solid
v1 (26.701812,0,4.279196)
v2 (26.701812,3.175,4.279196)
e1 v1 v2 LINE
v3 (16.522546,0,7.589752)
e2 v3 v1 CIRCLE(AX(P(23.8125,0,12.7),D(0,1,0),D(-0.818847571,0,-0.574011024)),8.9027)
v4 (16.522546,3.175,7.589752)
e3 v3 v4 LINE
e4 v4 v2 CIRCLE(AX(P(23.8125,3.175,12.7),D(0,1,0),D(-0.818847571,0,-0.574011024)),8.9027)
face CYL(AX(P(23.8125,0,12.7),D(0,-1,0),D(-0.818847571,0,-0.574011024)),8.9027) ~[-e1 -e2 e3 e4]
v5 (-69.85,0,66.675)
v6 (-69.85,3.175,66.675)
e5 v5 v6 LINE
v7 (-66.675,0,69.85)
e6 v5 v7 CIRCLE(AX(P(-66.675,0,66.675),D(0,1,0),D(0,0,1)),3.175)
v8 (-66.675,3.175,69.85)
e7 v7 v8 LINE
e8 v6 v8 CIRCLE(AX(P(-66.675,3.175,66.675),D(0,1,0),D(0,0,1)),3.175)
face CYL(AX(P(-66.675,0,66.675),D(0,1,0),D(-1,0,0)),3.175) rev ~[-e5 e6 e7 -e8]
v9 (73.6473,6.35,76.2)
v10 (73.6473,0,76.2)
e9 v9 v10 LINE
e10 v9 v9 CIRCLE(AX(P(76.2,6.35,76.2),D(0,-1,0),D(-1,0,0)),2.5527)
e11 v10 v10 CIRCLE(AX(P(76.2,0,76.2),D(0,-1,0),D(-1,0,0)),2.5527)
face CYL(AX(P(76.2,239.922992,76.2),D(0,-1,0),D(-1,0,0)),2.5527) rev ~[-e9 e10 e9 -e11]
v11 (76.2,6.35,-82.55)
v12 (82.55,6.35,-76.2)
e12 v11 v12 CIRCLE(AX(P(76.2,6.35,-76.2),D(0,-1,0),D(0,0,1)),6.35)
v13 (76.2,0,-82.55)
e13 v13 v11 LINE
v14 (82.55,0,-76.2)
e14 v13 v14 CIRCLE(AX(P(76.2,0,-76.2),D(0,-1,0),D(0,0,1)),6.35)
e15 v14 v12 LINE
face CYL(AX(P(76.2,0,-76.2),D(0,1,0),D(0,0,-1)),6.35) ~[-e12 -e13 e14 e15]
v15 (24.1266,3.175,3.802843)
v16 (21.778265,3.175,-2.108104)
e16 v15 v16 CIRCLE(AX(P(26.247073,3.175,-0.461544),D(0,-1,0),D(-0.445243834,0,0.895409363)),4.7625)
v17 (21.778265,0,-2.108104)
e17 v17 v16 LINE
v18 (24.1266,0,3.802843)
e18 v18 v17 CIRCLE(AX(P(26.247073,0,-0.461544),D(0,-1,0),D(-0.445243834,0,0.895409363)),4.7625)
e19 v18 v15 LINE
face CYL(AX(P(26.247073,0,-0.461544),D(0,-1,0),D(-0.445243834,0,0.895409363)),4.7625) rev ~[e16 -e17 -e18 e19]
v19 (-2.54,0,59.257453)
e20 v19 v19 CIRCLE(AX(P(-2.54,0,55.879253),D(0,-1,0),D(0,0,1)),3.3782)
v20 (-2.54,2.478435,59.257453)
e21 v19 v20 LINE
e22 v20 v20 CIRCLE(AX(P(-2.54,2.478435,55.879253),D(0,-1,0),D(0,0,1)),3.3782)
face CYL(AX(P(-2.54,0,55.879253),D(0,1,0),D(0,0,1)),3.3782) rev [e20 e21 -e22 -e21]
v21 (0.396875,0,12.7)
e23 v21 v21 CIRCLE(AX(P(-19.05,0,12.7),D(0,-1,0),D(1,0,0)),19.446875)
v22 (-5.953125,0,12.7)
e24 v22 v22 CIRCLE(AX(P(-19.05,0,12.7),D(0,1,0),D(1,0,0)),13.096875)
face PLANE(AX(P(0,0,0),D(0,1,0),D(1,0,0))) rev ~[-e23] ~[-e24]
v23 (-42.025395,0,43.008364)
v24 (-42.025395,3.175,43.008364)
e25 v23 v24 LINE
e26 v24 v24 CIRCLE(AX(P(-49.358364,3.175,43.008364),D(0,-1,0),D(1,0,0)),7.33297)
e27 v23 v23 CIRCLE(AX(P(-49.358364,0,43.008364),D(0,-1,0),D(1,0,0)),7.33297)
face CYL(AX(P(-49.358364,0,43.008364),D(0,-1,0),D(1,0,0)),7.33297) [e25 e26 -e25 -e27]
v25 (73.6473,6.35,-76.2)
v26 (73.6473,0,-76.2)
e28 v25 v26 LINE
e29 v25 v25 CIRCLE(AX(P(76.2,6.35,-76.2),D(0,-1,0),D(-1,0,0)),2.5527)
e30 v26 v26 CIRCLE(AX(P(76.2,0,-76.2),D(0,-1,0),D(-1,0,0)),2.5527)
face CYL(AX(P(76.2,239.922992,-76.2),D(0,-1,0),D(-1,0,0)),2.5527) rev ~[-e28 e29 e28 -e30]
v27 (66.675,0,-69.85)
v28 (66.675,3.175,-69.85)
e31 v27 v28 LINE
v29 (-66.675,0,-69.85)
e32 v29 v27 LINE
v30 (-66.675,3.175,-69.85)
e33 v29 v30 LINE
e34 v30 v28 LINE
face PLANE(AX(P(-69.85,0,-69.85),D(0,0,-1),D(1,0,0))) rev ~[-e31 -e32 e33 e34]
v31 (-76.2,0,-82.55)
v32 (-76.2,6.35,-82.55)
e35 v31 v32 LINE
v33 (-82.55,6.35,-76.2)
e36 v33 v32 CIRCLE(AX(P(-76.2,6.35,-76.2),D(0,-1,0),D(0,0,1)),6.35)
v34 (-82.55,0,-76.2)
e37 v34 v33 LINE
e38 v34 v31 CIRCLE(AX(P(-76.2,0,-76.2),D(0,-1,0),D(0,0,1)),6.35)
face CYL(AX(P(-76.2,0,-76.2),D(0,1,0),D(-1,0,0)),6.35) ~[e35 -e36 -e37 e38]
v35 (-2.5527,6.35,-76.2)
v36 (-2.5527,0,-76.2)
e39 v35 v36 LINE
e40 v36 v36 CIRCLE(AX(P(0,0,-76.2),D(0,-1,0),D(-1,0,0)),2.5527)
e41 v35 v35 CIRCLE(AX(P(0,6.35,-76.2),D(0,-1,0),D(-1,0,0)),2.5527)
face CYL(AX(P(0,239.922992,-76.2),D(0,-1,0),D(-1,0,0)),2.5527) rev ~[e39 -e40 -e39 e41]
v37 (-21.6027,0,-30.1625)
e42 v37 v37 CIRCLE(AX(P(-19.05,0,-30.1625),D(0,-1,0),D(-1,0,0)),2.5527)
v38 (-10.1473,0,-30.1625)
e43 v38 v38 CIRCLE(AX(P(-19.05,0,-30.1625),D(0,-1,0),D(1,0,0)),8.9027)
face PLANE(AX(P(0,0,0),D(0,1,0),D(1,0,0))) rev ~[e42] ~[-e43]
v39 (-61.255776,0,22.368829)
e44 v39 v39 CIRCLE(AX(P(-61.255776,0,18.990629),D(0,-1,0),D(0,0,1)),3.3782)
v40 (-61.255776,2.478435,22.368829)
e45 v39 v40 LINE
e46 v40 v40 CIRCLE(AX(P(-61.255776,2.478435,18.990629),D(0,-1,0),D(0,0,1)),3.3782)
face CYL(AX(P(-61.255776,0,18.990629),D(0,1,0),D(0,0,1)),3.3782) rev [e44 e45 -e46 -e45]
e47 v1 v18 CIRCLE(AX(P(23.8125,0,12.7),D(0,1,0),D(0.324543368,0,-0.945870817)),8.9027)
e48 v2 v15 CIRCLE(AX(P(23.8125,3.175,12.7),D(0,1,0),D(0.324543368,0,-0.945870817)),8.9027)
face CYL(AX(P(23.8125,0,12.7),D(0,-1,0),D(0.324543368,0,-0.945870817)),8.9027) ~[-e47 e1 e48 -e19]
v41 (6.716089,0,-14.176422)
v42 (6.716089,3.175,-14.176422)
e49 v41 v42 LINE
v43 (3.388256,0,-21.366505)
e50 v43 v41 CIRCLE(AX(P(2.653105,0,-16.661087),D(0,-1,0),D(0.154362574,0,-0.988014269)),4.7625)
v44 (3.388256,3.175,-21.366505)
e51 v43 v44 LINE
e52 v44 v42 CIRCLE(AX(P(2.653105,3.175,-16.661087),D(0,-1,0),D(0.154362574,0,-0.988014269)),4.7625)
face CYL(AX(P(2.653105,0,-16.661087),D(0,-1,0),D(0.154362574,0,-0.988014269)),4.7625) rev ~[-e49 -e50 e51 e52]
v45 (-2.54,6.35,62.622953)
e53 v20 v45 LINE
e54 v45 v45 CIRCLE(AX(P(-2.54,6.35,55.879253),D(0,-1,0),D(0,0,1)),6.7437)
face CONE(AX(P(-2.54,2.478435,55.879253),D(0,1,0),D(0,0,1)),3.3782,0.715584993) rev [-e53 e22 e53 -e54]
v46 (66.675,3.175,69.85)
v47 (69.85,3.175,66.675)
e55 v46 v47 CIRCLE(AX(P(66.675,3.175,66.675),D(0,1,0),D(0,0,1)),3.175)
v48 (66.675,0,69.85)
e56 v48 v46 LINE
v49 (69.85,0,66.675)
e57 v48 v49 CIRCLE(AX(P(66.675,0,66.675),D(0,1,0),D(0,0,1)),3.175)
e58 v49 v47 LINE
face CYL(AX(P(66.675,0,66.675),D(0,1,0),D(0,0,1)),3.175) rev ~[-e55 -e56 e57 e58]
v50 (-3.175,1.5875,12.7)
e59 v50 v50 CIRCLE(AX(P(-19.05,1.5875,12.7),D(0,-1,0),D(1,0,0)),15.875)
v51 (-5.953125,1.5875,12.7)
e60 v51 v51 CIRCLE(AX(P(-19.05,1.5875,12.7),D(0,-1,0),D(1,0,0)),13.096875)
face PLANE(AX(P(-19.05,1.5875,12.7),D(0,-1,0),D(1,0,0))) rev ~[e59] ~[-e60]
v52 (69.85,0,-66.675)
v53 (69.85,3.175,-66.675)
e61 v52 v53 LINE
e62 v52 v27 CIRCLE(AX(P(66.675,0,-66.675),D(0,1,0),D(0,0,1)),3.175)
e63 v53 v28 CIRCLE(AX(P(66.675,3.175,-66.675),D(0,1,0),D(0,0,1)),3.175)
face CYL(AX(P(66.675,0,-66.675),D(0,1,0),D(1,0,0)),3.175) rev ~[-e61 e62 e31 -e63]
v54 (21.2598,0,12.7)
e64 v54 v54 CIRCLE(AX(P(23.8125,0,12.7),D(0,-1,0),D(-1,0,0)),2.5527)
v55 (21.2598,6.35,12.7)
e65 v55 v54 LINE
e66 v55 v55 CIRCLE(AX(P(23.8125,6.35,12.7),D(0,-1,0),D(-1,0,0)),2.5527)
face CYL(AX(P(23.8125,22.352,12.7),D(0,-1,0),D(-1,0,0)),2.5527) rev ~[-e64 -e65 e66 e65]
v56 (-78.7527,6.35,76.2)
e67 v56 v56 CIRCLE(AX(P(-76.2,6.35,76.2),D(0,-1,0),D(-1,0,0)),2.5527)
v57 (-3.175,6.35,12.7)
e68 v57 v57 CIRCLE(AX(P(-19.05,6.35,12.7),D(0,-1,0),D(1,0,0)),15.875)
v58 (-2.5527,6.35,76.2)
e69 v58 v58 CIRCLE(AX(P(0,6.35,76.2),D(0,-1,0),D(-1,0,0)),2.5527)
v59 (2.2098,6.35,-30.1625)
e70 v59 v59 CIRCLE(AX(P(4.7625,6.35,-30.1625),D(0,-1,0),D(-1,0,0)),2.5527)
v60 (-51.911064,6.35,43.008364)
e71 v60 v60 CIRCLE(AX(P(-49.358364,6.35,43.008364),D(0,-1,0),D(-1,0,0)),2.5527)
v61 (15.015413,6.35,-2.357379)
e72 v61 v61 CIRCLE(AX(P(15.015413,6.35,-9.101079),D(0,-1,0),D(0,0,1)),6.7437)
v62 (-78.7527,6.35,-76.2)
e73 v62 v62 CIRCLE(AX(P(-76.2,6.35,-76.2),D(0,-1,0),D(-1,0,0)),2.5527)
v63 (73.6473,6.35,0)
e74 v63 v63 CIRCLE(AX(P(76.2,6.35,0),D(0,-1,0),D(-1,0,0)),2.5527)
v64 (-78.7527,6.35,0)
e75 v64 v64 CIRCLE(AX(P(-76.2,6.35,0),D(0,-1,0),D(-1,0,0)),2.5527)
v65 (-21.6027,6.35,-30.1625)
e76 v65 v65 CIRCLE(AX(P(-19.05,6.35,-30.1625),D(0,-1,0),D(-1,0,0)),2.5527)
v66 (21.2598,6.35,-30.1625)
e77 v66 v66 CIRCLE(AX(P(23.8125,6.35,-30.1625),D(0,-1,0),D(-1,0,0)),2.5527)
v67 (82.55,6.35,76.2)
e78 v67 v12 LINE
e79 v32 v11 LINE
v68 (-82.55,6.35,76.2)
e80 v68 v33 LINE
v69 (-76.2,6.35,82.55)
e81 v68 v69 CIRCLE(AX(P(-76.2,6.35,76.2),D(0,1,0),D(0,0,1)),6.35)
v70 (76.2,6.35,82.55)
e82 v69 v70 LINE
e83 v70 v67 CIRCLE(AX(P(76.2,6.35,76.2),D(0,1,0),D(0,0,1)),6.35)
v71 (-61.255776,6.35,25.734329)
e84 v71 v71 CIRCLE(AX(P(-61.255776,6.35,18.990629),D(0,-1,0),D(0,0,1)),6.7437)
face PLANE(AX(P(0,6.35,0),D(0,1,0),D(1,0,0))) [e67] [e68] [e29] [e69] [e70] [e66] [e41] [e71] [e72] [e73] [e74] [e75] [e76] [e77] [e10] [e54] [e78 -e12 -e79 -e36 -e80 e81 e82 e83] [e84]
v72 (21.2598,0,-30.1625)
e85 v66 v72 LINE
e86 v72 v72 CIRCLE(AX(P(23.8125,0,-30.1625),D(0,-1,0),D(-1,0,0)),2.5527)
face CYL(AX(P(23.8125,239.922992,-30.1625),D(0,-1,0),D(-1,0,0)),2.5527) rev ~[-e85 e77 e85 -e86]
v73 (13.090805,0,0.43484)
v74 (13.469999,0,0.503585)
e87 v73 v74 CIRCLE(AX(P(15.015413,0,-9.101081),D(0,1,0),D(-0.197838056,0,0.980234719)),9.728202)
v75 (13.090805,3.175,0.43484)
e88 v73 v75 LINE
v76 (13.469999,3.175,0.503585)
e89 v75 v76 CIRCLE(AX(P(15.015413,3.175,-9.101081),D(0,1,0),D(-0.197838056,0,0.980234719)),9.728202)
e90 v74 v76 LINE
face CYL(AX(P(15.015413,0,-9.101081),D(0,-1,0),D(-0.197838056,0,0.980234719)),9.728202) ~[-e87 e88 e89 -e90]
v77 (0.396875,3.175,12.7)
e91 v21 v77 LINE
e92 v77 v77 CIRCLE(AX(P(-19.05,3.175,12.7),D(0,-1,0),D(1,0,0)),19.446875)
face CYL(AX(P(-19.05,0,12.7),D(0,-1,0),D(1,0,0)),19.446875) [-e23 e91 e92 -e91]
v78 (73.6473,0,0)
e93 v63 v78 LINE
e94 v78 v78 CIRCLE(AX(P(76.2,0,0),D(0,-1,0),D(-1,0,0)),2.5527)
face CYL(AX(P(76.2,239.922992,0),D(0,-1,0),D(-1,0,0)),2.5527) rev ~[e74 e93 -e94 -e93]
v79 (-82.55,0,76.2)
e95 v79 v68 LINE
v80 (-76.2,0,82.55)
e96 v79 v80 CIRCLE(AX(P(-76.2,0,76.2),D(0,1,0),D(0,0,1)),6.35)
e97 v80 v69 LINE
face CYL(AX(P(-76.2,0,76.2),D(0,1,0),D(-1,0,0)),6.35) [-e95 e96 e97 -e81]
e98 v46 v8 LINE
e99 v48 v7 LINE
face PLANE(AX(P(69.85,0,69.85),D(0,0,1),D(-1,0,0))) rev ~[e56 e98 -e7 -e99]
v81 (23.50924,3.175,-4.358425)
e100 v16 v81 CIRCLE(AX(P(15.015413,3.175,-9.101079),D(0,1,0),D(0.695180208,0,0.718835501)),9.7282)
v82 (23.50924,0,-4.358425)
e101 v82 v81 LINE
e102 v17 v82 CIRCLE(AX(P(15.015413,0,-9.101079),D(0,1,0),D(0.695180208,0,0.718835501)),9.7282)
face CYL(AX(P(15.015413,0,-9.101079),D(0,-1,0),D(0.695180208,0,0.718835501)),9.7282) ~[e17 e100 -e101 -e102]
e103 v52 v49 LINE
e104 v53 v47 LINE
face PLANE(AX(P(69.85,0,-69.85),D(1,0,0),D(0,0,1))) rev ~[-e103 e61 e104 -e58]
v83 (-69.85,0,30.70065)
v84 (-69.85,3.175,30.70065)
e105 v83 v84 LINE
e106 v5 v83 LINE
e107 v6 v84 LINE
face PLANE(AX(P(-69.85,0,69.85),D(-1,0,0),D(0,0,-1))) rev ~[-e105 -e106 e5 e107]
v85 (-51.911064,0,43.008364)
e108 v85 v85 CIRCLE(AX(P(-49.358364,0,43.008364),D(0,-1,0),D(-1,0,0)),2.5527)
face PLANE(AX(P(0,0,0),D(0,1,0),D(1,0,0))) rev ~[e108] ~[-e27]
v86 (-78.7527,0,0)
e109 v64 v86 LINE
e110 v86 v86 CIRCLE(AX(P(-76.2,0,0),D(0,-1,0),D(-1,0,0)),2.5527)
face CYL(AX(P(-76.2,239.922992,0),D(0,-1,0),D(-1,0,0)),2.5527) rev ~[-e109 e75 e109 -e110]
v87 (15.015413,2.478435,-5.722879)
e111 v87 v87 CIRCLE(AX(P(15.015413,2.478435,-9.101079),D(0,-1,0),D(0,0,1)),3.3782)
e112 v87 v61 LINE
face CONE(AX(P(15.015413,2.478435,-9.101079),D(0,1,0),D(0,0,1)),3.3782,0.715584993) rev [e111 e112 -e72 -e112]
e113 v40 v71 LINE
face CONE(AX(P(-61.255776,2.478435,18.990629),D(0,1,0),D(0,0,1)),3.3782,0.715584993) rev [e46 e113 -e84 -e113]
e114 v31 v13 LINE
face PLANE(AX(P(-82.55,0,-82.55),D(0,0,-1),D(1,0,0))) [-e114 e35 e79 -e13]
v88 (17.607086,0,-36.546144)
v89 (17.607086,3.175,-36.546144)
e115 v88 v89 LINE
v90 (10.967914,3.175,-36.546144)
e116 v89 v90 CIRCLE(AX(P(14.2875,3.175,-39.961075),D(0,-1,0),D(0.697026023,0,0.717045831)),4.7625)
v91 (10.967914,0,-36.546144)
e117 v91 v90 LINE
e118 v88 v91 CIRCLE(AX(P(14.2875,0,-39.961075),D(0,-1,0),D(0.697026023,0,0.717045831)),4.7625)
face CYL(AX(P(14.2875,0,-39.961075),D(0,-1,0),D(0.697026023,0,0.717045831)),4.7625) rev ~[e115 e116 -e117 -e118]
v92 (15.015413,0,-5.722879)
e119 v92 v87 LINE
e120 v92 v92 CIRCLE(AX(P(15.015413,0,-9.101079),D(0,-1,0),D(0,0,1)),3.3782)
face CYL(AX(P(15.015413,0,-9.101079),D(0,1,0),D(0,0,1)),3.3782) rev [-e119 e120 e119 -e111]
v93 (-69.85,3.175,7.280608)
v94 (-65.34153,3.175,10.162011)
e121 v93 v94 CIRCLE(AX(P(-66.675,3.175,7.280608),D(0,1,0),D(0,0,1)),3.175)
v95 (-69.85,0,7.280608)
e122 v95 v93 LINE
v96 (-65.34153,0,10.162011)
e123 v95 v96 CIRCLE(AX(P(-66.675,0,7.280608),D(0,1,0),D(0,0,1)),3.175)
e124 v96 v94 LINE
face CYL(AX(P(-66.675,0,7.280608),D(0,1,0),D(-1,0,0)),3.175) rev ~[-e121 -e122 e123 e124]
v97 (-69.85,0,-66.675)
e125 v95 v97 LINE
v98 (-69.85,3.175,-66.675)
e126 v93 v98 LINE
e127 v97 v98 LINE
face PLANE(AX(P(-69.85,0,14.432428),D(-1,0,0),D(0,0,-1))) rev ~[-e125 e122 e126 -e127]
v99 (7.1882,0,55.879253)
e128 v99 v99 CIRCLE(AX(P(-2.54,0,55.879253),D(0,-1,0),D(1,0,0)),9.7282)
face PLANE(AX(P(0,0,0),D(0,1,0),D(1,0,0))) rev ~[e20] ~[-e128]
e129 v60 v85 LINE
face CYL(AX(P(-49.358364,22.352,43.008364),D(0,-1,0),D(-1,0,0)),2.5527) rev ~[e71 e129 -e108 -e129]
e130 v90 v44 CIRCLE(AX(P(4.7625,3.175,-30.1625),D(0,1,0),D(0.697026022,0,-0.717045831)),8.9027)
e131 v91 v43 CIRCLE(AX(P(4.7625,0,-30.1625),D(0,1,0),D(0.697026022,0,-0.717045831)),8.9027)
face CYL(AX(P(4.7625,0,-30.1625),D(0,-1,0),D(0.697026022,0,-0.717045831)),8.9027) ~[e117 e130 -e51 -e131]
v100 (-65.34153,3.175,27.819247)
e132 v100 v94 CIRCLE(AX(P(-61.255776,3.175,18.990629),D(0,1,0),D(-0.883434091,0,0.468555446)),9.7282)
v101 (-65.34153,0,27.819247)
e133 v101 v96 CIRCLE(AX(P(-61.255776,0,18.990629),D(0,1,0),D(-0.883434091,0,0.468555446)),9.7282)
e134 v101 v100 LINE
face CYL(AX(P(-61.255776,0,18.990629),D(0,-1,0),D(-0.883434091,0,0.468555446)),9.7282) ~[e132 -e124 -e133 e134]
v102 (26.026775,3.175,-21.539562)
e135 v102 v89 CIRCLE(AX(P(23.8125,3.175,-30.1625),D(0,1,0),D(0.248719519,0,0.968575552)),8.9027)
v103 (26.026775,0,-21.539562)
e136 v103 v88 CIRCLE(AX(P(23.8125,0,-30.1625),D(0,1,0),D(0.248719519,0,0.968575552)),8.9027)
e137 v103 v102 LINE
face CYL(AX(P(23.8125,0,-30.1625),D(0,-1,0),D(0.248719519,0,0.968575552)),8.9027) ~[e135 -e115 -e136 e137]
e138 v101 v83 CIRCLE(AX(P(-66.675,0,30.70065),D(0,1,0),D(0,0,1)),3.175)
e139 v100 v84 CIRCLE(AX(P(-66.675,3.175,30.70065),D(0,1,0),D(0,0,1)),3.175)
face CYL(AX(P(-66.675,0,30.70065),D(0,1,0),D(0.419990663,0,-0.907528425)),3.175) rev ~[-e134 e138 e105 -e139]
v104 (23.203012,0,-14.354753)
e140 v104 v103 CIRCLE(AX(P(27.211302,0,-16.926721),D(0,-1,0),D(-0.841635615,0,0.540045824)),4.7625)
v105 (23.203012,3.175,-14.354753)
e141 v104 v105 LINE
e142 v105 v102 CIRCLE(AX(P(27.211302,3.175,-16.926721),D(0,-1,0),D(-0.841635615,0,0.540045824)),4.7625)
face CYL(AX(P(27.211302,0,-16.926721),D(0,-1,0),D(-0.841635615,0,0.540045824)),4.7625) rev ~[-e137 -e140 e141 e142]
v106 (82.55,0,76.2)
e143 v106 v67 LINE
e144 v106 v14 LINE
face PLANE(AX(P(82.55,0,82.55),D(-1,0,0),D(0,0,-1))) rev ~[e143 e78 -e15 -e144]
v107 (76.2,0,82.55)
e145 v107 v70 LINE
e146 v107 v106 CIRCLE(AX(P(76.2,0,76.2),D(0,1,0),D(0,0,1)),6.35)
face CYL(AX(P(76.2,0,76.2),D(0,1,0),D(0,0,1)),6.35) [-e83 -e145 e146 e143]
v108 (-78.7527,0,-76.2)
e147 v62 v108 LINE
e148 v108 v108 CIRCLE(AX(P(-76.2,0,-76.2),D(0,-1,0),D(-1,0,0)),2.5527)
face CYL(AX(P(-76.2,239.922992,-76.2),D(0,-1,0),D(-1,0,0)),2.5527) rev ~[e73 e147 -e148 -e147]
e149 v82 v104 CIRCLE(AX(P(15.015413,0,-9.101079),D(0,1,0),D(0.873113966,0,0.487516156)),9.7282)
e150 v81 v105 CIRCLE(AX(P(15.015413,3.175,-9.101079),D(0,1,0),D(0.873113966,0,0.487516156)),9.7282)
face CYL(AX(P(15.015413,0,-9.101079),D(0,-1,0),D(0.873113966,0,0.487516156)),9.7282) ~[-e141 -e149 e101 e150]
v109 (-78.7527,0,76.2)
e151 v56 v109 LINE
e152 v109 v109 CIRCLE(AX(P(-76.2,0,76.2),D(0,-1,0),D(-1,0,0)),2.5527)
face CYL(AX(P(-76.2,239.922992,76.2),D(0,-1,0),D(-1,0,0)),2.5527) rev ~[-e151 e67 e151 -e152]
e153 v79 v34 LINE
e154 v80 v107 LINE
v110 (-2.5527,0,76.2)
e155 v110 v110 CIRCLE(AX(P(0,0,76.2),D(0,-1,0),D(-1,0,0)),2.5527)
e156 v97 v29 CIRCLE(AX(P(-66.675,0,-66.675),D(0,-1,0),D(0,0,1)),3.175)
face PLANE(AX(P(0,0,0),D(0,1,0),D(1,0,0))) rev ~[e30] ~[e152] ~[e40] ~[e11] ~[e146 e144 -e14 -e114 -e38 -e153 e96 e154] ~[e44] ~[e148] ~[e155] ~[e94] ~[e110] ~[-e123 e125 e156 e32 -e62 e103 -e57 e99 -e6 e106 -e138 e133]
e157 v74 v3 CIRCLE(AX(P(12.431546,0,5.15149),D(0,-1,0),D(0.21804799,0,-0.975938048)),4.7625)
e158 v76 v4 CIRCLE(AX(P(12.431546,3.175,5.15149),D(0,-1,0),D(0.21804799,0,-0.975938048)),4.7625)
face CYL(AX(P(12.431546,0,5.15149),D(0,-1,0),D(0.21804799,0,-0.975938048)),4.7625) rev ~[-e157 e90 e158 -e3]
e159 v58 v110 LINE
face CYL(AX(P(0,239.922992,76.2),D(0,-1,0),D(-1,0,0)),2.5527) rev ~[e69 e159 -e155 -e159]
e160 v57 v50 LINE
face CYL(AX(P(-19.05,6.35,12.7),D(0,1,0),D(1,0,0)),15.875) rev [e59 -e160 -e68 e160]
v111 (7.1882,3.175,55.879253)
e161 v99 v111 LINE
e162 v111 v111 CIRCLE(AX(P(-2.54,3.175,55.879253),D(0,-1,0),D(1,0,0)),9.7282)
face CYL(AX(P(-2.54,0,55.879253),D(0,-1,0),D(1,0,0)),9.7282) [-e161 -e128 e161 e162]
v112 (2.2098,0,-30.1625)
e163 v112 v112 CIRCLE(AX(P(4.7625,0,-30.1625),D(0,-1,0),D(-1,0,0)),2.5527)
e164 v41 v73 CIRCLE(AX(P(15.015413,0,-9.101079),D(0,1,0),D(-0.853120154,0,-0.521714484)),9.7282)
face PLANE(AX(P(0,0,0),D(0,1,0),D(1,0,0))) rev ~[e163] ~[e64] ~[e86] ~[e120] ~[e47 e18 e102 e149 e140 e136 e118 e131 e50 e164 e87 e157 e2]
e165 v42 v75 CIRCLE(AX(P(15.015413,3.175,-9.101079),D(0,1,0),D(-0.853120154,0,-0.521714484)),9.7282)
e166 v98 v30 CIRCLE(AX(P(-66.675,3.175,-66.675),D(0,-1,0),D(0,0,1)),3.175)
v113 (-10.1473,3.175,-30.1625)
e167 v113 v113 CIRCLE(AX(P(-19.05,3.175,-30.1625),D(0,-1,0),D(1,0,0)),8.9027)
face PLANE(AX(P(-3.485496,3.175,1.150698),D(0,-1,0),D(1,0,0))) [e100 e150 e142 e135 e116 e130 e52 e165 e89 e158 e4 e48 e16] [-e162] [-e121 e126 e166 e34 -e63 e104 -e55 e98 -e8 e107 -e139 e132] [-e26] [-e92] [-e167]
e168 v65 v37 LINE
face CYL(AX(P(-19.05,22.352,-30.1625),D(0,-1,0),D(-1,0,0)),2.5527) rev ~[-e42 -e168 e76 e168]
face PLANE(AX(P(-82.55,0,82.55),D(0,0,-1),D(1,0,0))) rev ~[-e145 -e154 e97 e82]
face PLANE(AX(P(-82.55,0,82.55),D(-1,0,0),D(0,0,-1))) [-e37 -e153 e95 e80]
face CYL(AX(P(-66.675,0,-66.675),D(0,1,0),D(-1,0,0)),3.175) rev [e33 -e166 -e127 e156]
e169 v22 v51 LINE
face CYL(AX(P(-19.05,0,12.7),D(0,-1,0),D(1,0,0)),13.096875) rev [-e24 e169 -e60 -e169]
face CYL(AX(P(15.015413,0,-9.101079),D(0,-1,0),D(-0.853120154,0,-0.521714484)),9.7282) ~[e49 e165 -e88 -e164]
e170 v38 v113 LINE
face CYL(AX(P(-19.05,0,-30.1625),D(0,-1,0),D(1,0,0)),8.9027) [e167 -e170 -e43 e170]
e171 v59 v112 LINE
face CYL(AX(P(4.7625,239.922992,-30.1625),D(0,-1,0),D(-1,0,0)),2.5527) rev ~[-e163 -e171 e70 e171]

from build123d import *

# Parameters (mm, degrees)
SKETCH1_W                                    = 165.1
SKETCH1_H                                    = 165.1
SKETCH1_R                                    = 13.096875
SKETCH1_R_2                                  = 1.5875
BOSS_EXTRUDE1_DEPTH                          = 6.35
SKETCH3_R                                    = 15.875
CUT_EXTRUDE1_DEPTH                           = 4.7625
CSK_FOR_1_4_FLAT_HEAD_SOCKET_CAP_SCR_2_COUNT = 2
CSK_FOR_1_4_FLAT_HEAD_SOCKET_CAP_SCR_2_PITCH = 81.28
CSK_FOR_1_4_FLAT_HEAD_SOCKET_CAP_SCR_3_COUNT = 2
CSK_FOR_1_4_FLAT_HEAD_SOCKET_CAP_SCR_3_PITCH = 69.342
FILLET1_R                                    = 6.35
F_10_CLEARANCE_HOLE1_D                       = 5.1054
F_1_4_20_TAPPED_HOLE1_D                      = 5.1054
F_1_4_20_TAPPED_HOLE1_DEPTH                  = 16.002
F_1_4_20_TAPPED_HOLE1_TIP                    = 1.533816902
F_10_CLEARANCE_HOLE2_D                       = 5.1054
SKETCH16_R                                   = 8.9027
SKETCH16_R_2                                 = 19.446875
SKETCH16_R_3                                 = 7.332969894
SKETCH16_R_4                                 = 9.7282
CUT_EXTRUDE2_DEPTH                           = 3.175
FILLET2_R                                    = 3.175


with BuildPart() as part:
    # Sketch1 → Boss-Extrude1 (new body)
    with BuildSketch(Plane(origin=(0, 0, 0), x_dir=(1, 0, 0), z_dir=(0, 1, 0))):
        Rectangle(SKETCH1_W, SKETCH1_H)
        with Locations((-19.05, -12.7)):
            Circle(SKETCH1_R, mode=Mode.SUBTRACT)
        with Locations((23.8125, -12.7)):
            Circle(SKETCH1_R_2, mode=Mode.SUBTRACT)
    extrude(amount=BOSS_EXTRUDE1_DEPTH)

    # Sketch3 → Cut-Extrude1 (cut)
    with BuildSketch(Plane.XZ.offset(-6.35)):
        with Locations((-19.05, 12.7)):
            Circle(SKETCH3_R)
    extrude(amount=CUT_EXTRUDE1_DEPTH, mode=Mode.SUBTRACT)

    # Sketch8 → CSK for 1/4 Flat Head Socket Cap Screw1 (revolve, cut)
    with BuildSketch(Plane(origin=(-61.255776472, 6.35, 18.990629251), x_dir=(0, 0, 1), z_dir=(1, 0, 0))):
        Polygon((0, 0), (0, 6.35), (3.3782, 6.35), (3.3782, 3.871564875), (6.7437, 0), align=None)
    csk_for_1_4_flat_head_socket_cap_screw1 = revolve(axis=Axis((-61.255776472, 12.7, 18.990629251), (0, -1, 0)), mode=Mode.SUBTRACT)

    # CSK for 1_4 Flat Head Socket Cap Scr 2: CSK for 1/4 Flat Head Socket Cap Screw1 ×2
    with Locations(*[Vector(0.938375852, 0, -0.345616493) * (i * CSK_FOR_1_4_FLAT_HEAD_SOCKET_CAP_SCR_2_PITCH) for i in range(1, CSK_FOR_1_4_FLAT_HEAD_SOCKET_CAP_SCR_2_COUNT)]):
        add(csk_for_1_4_flat_head_socket_cap_screw1, mode=Mode.SUBTRACT)

    # CSK for 1_4 Flat Head Socket Cap Scr 3: CSK for 1/4 Flat Head Socket Cap Screw1 ×2
    with Locations(*[Vector(0.846756316, 0, 0.531980959) * (i * CSK_FOR_1_4_FLAT_HEAD_SOCKET_CAP_SCR_3_PITCH) for i in range(1, CSK_FOR_1_4_FLAT_HEAD_SOCKET_CAP_SCR_3_COUNT)]):
        add(csk_for_1_4_flat_head_socket_cap_screw1, mode=Mode.SUBTRACT)

    # Fillet1
    fillet1_edges = [part.edges().sort_by_distance(p)[0] for p in [
        (-82.55, 3.175, -82.55),
        (82.55, 3.175, -82.55),
        (82.55, 3.175, 82.55),
        (-82.55, 3.175, 82.55),
    ]]
    fillet(fillet1_edges, radius=FILLET1_R)

    # #10 Clearance Hole1 (through all)
    with Locations(Plane(origin=(0, 6.35, 0), x_dir=(1, 0, 0), z_dir=(0, 1, 0))):
        with Locations((-76.2, -76.2), (-76.2, 76.2), (76.2, 76.2), (76.2, -76.2), (0, 76.2), (0, -76.2), (-76.2, 0), (76.2, 0)):
            Hole(F_10_CLEARANCE_HOLE1_D / 2)

    # 1/4-20 Tapped Hole1
    with Locations(Plane(origin=(0, 6.35, 0), x_dir=(1, 0, 0), z_dir=(0, 1, 0))):
        with Locations((23.8125, -12.7), (-49.358364409, -43.008364409), (-19.05, 30.1625), (-19.05, -12.7)):
            Hole(F_1_4_20_TAPPED_HOLE1_D / 2, depth=F_1_4_20_TAPPED_HOLE1_DEPTH)
            with Locations((0, 0, -(F_1_4_20_TAPPED_HOLE1_DEPTH + F_1_4_20_TAPPED_HOLE1_TIP / 2))):  # 118° drill point
                Cone(0, F_1_4_20_TAPPED_HOLE1_D / 2, F_1_4_20_TAPPED_HOLE1_TIP, mode=Mode.SUBTRACT)

    # #10 Clearance Hole2 (through all)
    with Locations(Plane(origin=(0, 6.35, 0), x_dir=(1, 0, 0), z_dir=(0, 1, 0))):
        with Locations((23.8125, 30.1625), (4.7625, 30.1625)):
            Hole(F_10_CLEARANCE_HOLE2_D / 2)

    # Sketch16 → Cut-Extrude2 (cut)
    with BuildSketch(Plane.XZ):
        with BuildLine():
            Line((-69.85, -69.85), (69.85, -69.85))
            Line((69.85, -69.85), (69.85, 69.85))
            Line((69.85, 69.85), (-69.85, 69.85))
            Line((-69.85, 69.85), (-69.85, 23.548830343))
            ThreePointArc((-69.85, 23.548830343), (-51.527576472, 18.990629251), (-69.85, 14.432428159))
            Line((-69.85, 14.432428159), (-69.85, -69.85))
        make_face()
        with Locations((-19.05, -30.1625)):
            Circle(SKETCH16_R, mode=Mode.SUBTRACT)
        with BuildLine():
            ThreePointArc((26.701812238, 4.279195877), (25.431817694, 3.945808004), (24.126599504, 3.802842657))
            ThreePointArc((24.126599504, 3.802842657), (21.821072601, 1.296842431), (21.77826487, -2.108103813))
            ThreePointArc((21.77826487, -2.108103813), (22.726285123, -3.169779078), (23.509240054, -4.358424671))
            ThreePointArc((23.509240054, -4.358424671), (24.7390513, -9.398953448), (23.203012358, -14.354753124))
            ThreePointArc((23.203012358, -14.354753124), (22.778841422, -18.668760314), (26.026775263, -21.539562429))
            ThreePointArc((26.026775263, -21.539562429), (31.576627013, -34.518690884), (17.607086431, -36.546143923))
            ThreePointArc((17.607086431, -36.546143923), (14.2875, -35.198574694), (10.967913569, -36.546143923))
            ThreePointArc((10.967913569, -36.546143923), (-3.202448667, -34.139642192), (3.388256312, -21.366505367))
            ThreePointArc((3.388256312, -21.366505367), (6.975124047, -18.66147581), (6.716089287, -14.176422182))
            ThreePointArc((6.716089287, -14.176422182), (6.098886497, -5.210907818), (13.090804558, 0.434840043))
            ThreePointArc((13.090804558, 0.434840043), (13.280061368, 0.471090255), (13.469999062, 0.503584721))
            ThreePointArc((13.469999062, 0.503584721), (16.805475765, 3.267308056), (16.522545733, 7.589752053))
            ThreePointArc((16.522545733, 7.589752053), (26.565926614, 21.166209847), (26.701812238, 4.279195877))
        make_face(mode=Mode.SUBTRACT)
        with Locations((-19.05, 12.7)):
            Circle(SKETCH16_R_2, mode=Mode.SUBTRACT)
        with Locations((-49.358364409, 43.008364409)):
            Circle(SKETCH16_R_3, mode=Mode.SUBTRACT)
        with Locations((-2.54, 55.879252935)):
            Circle(SKETCH16_R_4, mode=Mode.SUBTRACT)
    extrude(amount=-CUT_EXTRUDE2_DEPTH, mode=Mode.SUBTRACT)

    # Fillet2
    fillet2_edges = [part.edges().sort_by_distance(p)[0] for p in [
        (-69.85, 1.5875, 14.432428159),
        (-69.85, 1.5875, 23.548830343),
        (-69.85, 1.5875, 69.85),
        (69.85, 1.5875, 69.85),
        (69.85, 1.5875, -69.85),
        (-69.85, 1.5875, -69.85),
    ]]
    fillet(fillet2_edges, radius=FILLET2_R)


solid = part.part
